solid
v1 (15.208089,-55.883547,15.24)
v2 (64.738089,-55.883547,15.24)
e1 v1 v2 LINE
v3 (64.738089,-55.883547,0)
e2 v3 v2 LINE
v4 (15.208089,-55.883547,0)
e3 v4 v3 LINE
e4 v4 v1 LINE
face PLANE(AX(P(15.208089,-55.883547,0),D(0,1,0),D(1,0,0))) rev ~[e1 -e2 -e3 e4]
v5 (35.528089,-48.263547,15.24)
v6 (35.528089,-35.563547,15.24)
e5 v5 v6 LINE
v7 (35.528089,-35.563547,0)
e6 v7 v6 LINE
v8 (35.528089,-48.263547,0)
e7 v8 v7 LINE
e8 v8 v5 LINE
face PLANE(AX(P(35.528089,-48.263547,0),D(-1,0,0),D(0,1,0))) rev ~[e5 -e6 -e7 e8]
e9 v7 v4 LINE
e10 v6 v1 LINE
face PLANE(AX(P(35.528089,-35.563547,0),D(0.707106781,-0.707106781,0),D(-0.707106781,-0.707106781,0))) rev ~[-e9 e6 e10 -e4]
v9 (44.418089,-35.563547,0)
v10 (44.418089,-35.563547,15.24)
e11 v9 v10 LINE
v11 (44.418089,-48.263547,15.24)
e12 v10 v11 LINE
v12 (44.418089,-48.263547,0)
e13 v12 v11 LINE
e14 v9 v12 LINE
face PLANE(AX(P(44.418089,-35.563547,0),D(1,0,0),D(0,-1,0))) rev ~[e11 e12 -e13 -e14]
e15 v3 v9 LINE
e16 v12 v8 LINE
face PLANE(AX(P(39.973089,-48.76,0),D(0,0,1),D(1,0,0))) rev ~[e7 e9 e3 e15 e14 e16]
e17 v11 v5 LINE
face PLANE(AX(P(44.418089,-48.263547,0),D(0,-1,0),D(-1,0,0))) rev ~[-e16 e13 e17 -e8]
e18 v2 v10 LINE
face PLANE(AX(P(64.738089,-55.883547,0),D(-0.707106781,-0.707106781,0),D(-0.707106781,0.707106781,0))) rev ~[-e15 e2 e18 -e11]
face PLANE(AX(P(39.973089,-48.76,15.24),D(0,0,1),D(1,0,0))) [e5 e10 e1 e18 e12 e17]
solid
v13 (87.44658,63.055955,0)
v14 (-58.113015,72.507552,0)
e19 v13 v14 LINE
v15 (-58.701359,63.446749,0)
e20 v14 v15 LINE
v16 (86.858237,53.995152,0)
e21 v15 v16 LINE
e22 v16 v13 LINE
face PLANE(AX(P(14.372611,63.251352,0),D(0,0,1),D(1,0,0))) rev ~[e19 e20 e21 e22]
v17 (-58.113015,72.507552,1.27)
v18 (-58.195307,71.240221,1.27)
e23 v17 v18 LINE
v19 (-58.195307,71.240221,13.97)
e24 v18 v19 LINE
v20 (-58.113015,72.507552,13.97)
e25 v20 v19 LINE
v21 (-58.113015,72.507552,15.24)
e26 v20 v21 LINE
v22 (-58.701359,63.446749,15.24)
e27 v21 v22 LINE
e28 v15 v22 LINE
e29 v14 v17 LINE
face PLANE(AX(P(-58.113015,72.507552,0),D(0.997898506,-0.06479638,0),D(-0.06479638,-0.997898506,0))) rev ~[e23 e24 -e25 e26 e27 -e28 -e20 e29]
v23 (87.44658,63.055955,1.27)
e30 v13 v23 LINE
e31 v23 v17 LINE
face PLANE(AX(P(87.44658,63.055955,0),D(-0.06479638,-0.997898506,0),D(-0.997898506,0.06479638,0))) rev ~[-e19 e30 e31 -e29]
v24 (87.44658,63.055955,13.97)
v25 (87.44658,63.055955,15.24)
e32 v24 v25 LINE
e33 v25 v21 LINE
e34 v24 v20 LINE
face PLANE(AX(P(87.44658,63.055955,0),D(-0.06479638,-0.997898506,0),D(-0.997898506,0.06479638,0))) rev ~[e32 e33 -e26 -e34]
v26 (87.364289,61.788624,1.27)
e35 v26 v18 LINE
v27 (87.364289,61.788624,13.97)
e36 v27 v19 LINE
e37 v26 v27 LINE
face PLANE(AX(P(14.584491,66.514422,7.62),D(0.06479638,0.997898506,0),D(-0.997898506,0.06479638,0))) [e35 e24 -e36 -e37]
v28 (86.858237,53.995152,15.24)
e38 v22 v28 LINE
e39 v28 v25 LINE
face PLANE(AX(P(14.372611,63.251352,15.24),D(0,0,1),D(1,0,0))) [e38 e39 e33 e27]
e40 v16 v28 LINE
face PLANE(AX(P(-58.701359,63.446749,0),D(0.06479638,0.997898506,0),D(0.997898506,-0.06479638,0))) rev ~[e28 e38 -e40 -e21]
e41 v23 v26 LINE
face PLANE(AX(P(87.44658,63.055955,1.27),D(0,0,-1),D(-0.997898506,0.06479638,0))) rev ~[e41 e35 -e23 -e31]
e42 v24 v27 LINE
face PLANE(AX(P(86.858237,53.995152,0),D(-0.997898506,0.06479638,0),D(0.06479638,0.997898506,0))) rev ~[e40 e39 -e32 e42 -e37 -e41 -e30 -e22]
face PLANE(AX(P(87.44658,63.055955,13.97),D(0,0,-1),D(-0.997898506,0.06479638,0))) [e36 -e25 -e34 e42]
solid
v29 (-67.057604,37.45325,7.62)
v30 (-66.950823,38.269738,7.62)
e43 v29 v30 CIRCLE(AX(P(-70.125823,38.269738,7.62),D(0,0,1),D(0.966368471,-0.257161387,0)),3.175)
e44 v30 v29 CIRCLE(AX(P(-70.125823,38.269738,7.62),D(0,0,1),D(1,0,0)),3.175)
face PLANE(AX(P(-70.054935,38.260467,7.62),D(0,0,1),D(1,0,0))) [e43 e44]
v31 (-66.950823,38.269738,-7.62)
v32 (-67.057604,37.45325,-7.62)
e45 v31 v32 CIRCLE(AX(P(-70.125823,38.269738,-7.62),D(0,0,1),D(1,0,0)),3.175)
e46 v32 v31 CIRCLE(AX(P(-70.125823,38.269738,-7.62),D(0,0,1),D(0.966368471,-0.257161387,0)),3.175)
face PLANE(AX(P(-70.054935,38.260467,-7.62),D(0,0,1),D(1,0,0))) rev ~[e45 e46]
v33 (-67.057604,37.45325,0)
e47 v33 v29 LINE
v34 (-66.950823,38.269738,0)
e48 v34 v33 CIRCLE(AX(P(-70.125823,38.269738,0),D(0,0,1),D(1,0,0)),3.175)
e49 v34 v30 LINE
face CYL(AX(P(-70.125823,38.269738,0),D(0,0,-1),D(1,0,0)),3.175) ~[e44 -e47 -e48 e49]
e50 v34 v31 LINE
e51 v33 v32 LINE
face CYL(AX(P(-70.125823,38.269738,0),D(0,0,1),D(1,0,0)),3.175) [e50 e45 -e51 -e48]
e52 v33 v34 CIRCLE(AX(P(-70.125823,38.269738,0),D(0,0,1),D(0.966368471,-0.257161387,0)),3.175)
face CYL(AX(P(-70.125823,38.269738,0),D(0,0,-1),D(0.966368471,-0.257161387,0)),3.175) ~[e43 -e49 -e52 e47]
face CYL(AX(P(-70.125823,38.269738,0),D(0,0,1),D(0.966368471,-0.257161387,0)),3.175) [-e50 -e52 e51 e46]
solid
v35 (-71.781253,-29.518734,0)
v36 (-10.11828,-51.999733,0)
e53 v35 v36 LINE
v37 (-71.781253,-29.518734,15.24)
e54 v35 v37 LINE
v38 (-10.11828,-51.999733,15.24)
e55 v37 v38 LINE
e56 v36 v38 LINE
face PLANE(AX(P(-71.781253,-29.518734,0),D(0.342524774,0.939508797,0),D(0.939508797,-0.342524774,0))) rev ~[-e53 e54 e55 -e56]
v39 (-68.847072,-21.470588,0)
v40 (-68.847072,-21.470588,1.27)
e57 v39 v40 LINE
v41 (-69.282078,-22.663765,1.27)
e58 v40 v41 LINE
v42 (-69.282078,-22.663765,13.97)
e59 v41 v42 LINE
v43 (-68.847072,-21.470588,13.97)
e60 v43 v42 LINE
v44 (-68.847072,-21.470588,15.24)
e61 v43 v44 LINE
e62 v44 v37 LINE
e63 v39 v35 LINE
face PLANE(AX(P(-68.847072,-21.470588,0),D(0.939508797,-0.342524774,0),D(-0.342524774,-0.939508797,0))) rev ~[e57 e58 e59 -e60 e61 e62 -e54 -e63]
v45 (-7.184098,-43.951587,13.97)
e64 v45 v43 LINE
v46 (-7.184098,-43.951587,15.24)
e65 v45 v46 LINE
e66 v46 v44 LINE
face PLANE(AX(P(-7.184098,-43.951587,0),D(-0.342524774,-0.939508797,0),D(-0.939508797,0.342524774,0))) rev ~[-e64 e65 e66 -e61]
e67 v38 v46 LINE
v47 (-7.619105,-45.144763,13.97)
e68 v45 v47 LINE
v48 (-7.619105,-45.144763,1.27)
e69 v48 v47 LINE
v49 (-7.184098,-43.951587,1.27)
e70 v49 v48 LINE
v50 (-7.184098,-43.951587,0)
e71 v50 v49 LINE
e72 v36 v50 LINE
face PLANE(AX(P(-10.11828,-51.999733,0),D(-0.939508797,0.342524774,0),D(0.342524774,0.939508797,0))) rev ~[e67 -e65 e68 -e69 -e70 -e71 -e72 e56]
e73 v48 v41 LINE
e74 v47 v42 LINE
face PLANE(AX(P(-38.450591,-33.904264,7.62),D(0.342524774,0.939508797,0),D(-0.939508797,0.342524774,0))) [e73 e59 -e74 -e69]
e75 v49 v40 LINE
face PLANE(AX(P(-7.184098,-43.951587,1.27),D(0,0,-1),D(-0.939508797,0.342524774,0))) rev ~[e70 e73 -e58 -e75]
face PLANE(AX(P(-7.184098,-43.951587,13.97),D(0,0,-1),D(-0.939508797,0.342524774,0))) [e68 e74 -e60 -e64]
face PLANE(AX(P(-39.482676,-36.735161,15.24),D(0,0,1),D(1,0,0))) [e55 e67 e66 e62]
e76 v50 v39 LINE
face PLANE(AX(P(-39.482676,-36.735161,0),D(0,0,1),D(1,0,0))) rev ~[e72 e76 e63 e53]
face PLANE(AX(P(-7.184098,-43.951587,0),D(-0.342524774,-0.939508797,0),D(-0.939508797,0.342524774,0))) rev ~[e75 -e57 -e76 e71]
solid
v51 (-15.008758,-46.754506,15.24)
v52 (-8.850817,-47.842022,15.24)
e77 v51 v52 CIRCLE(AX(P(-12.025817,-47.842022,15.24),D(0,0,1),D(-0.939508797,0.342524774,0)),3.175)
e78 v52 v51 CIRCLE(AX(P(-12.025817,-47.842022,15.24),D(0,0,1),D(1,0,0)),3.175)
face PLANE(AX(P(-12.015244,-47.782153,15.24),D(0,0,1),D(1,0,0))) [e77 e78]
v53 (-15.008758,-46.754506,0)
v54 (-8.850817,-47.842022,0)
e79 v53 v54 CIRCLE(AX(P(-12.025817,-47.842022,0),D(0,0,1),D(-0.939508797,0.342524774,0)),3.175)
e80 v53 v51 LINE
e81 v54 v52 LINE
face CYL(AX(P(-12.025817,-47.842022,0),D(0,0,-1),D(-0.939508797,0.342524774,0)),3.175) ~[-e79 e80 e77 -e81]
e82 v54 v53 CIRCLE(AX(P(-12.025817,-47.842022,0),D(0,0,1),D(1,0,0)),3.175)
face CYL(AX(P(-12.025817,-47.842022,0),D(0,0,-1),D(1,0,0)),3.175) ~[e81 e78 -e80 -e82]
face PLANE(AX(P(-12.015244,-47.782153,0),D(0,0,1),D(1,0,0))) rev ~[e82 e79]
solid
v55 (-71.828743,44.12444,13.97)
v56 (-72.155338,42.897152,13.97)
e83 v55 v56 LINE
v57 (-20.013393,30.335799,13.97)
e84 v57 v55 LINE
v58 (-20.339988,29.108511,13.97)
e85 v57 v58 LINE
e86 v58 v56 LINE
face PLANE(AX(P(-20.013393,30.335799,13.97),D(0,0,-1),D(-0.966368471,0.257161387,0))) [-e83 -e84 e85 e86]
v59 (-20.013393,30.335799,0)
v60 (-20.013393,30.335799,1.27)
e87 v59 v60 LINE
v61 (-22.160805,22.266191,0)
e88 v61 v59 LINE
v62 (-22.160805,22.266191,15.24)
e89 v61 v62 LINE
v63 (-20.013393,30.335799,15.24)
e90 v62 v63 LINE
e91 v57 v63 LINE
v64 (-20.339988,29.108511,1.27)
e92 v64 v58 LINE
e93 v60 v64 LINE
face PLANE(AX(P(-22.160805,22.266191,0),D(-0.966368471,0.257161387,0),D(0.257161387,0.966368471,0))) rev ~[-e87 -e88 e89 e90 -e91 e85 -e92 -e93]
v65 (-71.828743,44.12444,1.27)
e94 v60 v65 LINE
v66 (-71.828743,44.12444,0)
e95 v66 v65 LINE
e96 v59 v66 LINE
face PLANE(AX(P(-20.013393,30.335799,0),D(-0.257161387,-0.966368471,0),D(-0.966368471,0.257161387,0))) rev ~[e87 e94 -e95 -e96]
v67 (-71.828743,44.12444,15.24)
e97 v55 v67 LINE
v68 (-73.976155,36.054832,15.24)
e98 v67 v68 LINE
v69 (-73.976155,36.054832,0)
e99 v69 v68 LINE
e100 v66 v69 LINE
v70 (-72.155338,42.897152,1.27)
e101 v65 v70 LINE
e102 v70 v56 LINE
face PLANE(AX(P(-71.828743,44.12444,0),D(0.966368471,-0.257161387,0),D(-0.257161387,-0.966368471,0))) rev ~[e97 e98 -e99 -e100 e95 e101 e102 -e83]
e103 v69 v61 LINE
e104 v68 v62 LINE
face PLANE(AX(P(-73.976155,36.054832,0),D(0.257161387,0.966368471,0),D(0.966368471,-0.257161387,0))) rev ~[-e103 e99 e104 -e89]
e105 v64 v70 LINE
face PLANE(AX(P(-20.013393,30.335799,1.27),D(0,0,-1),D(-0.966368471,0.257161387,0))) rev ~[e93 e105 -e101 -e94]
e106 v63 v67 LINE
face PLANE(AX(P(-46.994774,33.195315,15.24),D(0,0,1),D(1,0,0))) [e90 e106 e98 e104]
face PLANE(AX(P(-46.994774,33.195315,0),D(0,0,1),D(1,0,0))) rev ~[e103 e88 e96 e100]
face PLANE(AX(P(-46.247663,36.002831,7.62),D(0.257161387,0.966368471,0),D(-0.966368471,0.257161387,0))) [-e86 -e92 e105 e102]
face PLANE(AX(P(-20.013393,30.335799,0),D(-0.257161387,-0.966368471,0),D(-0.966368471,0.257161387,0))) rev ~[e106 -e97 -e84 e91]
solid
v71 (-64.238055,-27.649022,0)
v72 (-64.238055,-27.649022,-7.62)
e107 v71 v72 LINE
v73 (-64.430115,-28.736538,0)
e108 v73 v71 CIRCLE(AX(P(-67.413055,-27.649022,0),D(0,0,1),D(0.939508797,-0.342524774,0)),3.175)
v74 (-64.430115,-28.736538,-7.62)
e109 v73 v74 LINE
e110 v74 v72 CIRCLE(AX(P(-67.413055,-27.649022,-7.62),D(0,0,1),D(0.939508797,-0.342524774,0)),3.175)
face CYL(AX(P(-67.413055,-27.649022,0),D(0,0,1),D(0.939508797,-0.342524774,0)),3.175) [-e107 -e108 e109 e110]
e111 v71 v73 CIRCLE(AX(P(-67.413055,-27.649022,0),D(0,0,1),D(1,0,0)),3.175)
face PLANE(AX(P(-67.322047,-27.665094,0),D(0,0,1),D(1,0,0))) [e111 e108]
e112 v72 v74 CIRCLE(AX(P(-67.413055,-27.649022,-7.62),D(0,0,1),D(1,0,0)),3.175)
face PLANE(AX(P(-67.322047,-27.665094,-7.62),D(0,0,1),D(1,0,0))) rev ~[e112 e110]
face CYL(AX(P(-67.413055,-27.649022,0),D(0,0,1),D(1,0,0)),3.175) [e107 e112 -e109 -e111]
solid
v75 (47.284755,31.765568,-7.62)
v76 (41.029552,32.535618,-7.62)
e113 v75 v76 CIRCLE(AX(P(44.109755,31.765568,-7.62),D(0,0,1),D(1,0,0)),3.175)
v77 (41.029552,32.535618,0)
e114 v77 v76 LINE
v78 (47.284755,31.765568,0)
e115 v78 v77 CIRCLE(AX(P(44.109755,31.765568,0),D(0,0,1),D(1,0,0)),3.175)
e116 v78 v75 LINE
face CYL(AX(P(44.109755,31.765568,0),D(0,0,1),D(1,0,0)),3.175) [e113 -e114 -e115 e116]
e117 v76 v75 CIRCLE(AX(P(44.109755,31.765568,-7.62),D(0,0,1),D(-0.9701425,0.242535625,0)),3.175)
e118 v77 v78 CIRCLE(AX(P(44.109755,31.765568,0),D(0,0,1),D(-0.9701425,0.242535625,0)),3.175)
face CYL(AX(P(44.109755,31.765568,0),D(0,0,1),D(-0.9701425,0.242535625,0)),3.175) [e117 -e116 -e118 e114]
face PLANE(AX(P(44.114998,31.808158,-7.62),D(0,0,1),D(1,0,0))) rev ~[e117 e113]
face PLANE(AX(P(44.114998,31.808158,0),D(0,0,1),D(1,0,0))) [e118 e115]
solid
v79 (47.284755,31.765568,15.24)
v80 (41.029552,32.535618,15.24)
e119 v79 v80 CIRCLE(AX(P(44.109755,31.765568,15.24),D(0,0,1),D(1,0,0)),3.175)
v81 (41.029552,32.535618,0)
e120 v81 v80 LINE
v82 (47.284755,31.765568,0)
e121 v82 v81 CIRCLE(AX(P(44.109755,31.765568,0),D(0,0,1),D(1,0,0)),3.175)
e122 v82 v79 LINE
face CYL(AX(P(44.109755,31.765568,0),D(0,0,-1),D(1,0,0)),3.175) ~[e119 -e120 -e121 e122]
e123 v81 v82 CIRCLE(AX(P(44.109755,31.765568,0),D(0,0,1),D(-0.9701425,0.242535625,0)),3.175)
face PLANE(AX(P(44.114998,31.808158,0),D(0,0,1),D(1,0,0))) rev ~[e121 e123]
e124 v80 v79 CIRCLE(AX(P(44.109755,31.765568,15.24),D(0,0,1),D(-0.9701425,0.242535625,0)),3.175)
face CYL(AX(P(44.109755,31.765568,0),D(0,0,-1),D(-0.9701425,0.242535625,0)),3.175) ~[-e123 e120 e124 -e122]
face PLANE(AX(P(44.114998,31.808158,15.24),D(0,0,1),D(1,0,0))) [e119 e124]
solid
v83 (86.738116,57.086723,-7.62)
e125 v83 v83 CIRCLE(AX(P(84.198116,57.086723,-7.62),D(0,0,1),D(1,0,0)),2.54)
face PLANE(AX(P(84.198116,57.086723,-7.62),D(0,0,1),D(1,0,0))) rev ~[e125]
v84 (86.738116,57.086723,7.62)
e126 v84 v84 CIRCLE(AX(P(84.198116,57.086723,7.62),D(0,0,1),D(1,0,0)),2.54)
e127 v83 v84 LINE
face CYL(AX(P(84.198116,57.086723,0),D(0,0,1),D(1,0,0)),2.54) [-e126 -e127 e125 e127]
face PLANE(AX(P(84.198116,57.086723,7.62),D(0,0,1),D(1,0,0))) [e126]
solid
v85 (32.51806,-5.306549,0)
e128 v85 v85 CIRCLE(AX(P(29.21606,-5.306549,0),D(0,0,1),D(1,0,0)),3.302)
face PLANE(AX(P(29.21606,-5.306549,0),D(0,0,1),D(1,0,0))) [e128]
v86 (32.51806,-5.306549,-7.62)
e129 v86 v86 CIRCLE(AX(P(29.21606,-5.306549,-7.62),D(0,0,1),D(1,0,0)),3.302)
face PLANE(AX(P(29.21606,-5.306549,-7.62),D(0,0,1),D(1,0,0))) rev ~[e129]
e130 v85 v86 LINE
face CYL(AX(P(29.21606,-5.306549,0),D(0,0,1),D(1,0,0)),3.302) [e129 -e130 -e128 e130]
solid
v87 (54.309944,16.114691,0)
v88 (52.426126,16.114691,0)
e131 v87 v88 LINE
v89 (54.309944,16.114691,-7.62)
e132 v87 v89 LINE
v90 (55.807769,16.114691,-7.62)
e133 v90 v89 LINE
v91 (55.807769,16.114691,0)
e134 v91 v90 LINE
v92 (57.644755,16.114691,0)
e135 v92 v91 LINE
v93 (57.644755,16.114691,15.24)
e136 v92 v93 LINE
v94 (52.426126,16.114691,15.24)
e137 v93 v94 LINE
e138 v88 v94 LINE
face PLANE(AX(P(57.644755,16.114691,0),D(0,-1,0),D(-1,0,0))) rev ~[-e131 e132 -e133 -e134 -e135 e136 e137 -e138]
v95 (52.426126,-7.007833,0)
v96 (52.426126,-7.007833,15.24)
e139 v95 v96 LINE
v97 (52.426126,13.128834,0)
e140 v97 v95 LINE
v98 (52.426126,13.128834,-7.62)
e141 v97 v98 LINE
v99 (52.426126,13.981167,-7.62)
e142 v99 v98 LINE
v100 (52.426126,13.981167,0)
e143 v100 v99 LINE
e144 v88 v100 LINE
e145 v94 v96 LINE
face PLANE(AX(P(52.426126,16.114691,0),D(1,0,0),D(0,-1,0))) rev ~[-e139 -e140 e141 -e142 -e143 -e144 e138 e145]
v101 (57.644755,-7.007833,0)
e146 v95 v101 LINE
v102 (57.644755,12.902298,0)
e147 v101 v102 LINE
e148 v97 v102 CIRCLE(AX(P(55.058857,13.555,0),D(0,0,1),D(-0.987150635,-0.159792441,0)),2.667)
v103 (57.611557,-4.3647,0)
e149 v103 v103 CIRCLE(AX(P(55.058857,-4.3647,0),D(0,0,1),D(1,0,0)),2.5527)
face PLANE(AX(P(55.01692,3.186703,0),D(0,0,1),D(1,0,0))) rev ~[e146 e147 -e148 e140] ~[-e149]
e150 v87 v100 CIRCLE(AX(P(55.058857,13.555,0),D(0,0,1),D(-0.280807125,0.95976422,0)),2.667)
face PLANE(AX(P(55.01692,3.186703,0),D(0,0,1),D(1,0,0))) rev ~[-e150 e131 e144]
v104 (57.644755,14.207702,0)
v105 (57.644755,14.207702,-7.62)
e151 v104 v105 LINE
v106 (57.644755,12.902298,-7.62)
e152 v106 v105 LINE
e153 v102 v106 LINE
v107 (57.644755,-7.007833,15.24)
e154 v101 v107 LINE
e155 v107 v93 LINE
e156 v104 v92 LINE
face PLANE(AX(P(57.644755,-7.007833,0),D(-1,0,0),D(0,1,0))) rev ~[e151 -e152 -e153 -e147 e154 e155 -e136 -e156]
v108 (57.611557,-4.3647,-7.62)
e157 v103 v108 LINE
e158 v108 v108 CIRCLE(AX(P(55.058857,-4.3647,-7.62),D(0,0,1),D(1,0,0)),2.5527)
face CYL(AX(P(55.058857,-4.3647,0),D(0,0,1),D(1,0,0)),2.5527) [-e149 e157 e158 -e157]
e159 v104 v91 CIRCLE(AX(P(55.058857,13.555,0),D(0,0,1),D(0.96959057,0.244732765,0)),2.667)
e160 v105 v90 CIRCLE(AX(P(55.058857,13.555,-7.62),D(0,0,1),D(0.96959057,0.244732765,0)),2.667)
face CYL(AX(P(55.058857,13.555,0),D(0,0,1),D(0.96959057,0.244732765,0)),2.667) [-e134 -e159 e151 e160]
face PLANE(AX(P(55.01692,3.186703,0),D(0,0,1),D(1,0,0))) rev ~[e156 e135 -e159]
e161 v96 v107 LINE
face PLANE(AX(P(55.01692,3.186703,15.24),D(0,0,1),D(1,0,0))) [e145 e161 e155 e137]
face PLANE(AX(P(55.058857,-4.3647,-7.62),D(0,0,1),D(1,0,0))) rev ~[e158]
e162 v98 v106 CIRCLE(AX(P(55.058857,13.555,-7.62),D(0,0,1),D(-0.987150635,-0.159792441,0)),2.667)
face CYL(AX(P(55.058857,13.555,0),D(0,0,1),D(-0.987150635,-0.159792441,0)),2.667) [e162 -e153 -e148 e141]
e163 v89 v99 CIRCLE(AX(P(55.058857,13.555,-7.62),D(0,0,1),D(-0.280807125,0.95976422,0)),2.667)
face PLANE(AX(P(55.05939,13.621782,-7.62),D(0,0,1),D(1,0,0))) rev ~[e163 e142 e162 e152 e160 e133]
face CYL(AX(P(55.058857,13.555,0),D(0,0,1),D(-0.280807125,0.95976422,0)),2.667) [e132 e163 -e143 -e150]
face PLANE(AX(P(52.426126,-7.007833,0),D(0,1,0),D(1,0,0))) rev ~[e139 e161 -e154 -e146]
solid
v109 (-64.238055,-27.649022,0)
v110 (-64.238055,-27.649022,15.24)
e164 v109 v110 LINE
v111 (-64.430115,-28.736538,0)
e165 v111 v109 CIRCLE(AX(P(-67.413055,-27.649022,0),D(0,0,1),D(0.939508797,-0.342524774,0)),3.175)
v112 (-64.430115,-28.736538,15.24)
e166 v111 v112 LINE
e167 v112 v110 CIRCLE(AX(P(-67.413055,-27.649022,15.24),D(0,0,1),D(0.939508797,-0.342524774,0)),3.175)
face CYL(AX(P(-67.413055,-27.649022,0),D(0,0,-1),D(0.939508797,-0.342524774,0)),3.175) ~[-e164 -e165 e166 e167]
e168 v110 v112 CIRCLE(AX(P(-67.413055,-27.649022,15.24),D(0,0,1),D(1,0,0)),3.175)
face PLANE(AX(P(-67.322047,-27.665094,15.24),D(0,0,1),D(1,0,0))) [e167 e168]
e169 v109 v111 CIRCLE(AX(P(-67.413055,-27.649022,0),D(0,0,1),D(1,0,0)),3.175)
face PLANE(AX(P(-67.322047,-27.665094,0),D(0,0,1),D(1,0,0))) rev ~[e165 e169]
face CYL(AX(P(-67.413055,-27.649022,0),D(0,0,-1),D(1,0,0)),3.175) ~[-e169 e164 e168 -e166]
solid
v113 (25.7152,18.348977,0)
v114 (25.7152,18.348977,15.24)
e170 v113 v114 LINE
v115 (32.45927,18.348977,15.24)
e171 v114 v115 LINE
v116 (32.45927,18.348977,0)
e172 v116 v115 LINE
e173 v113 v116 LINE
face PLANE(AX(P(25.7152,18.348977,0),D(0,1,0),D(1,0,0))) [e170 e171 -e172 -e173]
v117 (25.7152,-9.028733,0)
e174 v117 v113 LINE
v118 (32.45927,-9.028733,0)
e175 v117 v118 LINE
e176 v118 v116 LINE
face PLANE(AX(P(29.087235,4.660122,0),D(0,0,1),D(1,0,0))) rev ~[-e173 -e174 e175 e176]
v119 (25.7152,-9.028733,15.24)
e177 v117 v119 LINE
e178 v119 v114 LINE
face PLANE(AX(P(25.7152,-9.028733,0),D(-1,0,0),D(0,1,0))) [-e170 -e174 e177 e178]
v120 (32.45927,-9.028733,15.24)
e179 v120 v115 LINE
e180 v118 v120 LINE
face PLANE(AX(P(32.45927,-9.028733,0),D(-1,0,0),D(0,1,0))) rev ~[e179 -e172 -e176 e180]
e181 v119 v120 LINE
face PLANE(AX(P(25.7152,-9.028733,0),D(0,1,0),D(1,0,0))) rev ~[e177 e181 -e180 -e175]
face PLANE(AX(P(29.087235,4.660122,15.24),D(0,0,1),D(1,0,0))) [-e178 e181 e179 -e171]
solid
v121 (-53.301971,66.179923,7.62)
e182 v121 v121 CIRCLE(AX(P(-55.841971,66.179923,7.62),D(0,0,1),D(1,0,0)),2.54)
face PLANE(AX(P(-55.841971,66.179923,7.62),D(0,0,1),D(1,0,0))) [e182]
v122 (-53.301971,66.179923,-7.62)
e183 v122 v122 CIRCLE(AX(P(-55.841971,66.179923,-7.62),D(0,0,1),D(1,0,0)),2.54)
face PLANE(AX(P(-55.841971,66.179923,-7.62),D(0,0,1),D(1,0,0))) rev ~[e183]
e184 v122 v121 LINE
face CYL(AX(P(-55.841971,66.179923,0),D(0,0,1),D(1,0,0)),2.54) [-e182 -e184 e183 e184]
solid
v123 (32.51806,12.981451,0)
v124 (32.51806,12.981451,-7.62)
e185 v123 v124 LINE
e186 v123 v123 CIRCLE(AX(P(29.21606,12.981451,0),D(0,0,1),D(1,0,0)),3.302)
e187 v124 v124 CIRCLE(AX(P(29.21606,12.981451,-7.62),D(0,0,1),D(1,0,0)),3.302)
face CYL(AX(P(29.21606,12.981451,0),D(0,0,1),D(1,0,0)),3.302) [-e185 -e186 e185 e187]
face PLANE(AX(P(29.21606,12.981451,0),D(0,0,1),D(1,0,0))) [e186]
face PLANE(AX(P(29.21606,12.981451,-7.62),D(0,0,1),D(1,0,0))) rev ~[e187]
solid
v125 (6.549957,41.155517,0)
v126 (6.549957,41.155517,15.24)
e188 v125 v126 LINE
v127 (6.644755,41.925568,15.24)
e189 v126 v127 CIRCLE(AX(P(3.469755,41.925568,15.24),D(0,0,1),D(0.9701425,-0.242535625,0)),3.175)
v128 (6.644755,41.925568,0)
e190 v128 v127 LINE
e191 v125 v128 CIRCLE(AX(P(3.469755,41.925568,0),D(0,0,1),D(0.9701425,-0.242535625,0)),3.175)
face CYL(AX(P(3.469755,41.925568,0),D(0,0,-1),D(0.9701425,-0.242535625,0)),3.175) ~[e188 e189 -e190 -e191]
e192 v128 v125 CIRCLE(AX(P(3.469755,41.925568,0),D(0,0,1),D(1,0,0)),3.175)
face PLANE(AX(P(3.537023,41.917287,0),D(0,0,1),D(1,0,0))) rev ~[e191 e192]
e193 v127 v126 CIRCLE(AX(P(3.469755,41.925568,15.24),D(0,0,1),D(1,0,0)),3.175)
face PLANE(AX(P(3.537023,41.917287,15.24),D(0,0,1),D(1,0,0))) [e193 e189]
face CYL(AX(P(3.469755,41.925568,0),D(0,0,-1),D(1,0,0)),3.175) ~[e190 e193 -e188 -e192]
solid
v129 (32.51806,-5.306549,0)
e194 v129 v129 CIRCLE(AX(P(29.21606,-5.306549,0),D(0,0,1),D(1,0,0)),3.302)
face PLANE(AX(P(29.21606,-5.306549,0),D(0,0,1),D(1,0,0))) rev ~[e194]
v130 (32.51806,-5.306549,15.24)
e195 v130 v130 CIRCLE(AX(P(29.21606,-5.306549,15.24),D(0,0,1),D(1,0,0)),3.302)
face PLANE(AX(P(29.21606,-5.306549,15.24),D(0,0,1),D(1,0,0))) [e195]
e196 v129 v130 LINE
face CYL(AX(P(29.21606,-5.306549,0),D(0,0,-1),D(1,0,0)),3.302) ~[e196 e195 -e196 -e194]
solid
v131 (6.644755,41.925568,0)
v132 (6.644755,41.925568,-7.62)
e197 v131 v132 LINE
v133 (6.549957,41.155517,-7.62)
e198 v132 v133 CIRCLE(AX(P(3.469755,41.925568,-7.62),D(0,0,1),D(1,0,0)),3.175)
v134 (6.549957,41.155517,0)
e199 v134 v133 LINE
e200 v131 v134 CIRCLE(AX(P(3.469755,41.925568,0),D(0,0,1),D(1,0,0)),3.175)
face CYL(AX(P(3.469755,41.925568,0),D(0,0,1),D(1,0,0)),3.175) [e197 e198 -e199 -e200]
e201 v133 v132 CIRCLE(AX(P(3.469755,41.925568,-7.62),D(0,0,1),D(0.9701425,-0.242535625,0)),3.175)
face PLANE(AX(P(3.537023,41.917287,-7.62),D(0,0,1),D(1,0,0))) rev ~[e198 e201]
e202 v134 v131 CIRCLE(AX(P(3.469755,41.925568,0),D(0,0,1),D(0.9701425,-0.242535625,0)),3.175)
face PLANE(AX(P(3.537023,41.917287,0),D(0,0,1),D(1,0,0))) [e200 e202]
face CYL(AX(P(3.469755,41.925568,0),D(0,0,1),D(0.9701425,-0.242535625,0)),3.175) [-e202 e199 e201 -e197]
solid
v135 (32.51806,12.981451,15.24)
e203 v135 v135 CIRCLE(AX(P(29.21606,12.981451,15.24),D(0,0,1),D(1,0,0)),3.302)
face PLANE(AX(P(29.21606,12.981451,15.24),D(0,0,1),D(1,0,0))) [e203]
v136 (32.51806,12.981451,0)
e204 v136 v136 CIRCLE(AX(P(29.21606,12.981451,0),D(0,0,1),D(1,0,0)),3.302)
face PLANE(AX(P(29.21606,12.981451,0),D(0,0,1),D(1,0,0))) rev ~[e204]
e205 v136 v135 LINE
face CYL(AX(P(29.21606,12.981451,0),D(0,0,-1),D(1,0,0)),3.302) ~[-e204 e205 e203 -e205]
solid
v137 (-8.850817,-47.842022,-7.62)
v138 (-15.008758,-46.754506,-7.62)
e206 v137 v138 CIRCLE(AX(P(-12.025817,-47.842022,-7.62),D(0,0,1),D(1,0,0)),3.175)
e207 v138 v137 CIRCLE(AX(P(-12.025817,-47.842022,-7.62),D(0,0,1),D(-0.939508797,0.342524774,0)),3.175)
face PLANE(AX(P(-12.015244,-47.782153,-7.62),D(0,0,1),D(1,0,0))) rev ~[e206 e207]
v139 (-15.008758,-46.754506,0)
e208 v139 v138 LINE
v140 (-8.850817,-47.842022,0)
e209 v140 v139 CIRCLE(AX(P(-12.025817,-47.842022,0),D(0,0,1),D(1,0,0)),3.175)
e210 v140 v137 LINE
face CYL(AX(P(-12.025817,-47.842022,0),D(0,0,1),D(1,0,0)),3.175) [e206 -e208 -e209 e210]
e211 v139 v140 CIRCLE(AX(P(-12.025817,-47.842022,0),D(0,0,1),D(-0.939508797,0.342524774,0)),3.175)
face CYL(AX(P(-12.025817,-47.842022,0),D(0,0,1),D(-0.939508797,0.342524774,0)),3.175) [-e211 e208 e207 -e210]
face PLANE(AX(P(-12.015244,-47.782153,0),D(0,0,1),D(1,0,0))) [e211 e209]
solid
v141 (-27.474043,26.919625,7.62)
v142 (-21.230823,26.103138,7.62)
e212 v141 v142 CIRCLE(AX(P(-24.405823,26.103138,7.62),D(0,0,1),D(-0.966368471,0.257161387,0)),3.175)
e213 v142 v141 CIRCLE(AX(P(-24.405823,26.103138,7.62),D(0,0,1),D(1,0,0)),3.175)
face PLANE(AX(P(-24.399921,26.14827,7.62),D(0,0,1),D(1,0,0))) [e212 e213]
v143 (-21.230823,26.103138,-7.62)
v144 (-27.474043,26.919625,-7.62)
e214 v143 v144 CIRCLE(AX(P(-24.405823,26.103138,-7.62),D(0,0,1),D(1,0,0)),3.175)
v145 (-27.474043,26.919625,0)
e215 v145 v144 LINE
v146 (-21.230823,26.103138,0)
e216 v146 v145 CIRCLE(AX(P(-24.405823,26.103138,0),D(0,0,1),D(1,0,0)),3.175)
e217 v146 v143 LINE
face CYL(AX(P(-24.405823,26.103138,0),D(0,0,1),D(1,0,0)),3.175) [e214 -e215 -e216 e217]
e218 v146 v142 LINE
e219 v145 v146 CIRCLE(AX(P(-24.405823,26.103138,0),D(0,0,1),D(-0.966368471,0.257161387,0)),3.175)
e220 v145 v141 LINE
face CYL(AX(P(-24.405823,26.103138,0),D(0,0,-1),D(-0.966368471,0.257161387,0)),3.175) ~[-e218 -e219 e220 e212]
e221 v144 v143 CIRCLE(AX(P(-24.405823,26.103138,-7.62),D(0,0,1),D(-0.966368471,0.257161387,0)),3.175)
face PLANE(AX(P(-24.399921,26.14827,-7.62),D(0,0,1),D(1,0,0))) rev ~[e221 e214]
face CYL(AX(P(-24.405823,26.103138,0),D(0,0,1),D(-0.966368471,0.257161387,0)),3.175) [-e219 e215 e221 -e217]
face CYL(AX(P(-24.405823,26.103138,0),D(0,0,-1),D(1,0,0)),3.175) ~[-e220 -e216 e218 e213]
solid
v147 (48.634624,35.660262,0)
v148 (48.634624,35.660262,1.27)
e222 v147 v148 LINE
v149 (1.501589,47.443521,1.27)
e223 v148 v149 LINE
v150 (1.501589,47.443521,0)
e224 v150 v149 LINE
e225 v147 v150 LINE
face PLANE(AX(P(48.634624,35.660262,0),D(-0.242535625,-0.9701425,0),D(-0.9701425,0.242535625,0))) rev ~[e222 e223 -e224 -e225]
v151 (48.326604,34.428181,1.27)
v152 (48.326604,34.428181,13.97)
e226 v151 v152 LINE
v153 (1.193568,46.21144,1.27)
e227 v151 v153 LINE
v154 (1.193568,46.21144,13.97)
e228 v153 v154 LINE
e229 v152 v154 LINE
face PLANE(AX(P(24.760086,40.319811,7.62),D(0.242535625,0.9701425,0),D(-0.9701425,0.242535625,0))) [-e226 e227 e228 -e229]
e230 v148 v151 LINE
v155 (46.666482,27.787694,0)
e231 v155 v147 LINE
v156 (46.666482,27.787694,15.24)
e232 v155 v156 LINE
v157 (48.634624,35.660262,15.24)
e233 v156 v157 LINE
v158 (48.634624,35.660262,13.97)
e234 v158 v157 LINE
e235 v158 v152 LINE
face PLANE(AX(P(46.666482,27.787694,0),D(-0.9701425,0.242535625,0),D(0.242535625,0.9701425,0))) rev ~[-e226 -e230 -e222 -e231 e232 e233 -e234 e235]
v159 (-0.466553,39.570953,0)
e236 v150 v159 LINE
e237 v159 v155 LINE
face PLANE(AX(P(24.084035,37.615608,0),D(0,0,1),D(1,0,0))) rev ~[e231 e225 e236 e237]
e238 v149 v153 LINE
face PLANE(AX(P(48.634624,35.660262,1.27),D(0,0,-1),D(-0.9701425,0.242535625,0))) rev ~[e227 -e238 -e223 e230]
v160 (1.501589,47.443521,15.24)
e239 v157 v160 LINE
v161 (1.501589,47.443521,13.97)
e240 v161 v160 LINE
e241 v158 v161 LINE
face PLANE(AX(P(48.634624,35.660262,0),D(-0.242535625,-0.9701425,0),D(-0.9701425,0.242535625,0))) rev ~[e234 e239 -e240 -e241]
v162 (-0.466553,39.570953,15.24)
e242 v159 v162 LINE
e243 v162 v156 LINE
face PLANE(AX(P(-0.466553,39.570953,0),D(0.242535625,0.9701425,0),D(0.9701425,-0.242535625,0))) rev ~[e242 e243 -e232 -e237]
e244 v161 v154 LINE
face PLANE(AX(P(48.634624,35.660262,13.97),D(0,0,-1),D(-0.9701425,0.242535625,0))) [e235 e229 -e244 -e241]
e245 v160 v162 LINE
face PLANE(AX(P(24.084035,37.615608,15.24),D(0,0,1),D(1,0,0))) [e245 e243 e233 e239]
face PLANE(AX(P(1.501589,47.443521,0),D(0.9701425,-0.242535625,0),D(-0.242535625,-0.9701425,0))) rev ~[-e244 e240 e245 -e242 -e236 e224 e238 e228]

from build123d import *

# Parameters (mm, degrees)
F2_DEPTH  = 7.62
F3_DEPTH  = 15.24
F5_DEPTH  = 15.24
F6_W      = 65.6332046197
F6_H      = 12.7
F7_DEPTH  = 0.762
F9_DEPTH  = 7.62
F10_DEPTH = 15.24
F12_DEPTH = 15.24
F13_W     = 48.5836209363
F13_H     = 12.7
F14_DEPTH = 1.27
F15_R     = 3.302
F16_DEPTH = 7.62
F17_DEPTH = 15.24
F18_W     = 6.7440699786
F18_H     = 27.3777097464
F19_DEPTH = 15.24
F21_DEPTH = 15.24
F22_DEPTH = 7.62
F24_DEPTH = 15.24
F25_W     = 53.6186267683
F25_H     = 12.7
F26_DEPTH = 1.27
F28_DEPTH = 15.24
F29_W     = 65.6332046197
F29_H     = 12.7
F30_DEPTH = 1.27
F31_R     = 2.54
F32_DEPTH = 7.62
F33_DEPTH = 15.24
F34_W     = 145.8661322359
F34_H     = 12.7
F35_DEPTH = 1.27
F36_R     = 2.5527
F37_DEPTH = 15.24
F38_DEPTH = 7.62


with BuildPart() as f2:
    # F1 (on Top) → F2 (new body)
    with BuildSketch(Plane.XY):
        with BuildLine():
            ThreePointArc((-64.4301145906, -28.7365379278), (-64.2864385694, -28.2011943594), (-64.2380550206, -27.649021771))
            ThreePointArc((-64.2380550206, -27.649021771), (-70.5396714717, -27.0968491825), (-64.4301145906, -28.7365379278))
        make_face()
    extrude(amount=-F2_DEPTH)


with BuildPart() as f2b:
    # F1 (on Top) → F2, piece 2 (new body)
    with BuildSketch(Plane.XY):
        with BuildLine():
            ThreePointArc((-8.8508171172, -47.842021771), (-11.4736445288, -44.7154053198), (-15.0087575472, -46.7545056141))
            ThreePointArc((-15.0087575472, -46.7545056141), (-12.5779897057, -50.9686382221), (-8.8508171172, -47.842021771))
        make_face()
    extrude(amount=-F2_DEPTH)


with BuildPart() as f3:
    # F3 (new): a face of the model
    f3_faces = [f2.part.faces().sort_by_distance(p)[0] for p in [
        (-67.4130550206, -27.649021771, 0),
    ]]
    extrude(f3_faces, amount=F3_DEPTH)


with BuildPart() as f3b:
    # F3#2 (new): a face of the model
    f3_2_faces = [f2b.part.faces().sort_by_distance(p)[0] for p in [
        (-12.0258171172, -47.842021771, 0),
    ]]
    extrude(f3_2_faces, amount=F3_DEPTH)


with BuildPart() as f5:
    # F4 (on Top) → F5 (new body)
    with BuildSketch(Plane.XY):
        Polygon((-68.8470715069, -21.4705884695), (-71.7812530259, -29.5187343538), (-10.1182799212, -51.9997329203), (-7.1840984022, -43.9515870359), align=None)
    extrude(amount=F5_DEPTH)

    # F6 (on face) → F7 (cut)
    with BuildSketch(Plane(origin=(-14.9867037038, -41.1069243515, 0), x_dir=(-0.9395087968, 0.3425247738, 0), z_dir=(0.3425247738, 0.9395087968, 0))):
        with Locations((24.5116185482, 7.62)):
            Rectangle(F6_W, F6_H)
    extrude(amount=-F7_DEPTH, mode=Mode.SUBTRACT)


with BuildPart() as f9:
    # F8 (on Top) → F9 (new body)
    with BuildSketch(Plane.XY):
        with BuildLine():
            ThreePointArc((6.5499569589, 41.1555171078), (6.6209660134, 41.537635855), (6.6447545209, 41.9255677172))
            ThreePointArc((6.6447545209, 41.9255677172), (0.3185430285, 42.3134995795), (6.5499569589, 41.1555171078))
        make_face()
    extrude(amount=-F9_DEPTH)


with BuildPart() as f9b:
    # F8 (on Top) → F9, piece 2 (new body)
    with BuildSketch(Plane.XY):
        with BuildLine():
            ThreePointArc((47.2847545209, 31.7655677172), (44.4976863832, 34.9167792097), (41.029552083, 32.5356183267))
            ThreePointArc((41.029552083, 32.5356183267), (43.7218226587, 28.6143562248), (47.2847545209, 31.7655677172))
        make_face()
    extrude(amount=-F9_DEPTH)


with BuildPart() as f10:
    # F10 (new): a face of the model
    f10_faces = [f9.part.faces().sort_by_distance(p)[0] for p in [
        (3.4697545209, 41.9255677172, 0),
    ]]
    extrude(f10_faces, amount=F10_DEPTH)


with BuildPart() as f10b:
    # F10#2 (new): a face of the model
    f10_2_faces = [f9b.part.faces().sort_by_distance(p)[0] for p in [
        (44.1097545209, 31.7655677172, 0),
    ]]
    extrude(f10_2_faces, amount=F10_DEPTH)


with BuildPart() as f12:
    # F11 (on Top) → F12 (new body)
    with BuildSketch(Plane.XY):
        Polygon((48.6346241865, 35.6602623446), (1.5015887053, 47.4435212149), (-0.4665534053, 39.5709527725), (46.6664820759, 27.7876939022), align=None)
    extrude(amount=F12_DEPTH)

    # F13 (on face) → F14 (cut)
    with BuildSketch(Plane(origin=(11.2515102097, 45.0060408388, 0), x_dir=(-0.9701425001, 0.242535625, 0), z_dir=(0.242535625, 0.9701425001, 0))):
        with Locations((-14.2418214171, 7.62)):
            Rectangle(F13_W, F13_H)
    extrude(amount=-F14_DEPTH, mode=Mode.SUBTRACT)


with BuildPart() as f16:
    # F15 (on Top) → F16 (new body)
    with BuildSketch(Plane.XY):
        with Locations((29.2160604149, 12.9814512787)):
            Circle(F15_R)
    extrude(amount=-F16_DEPTH)


with BuildPart() as f16b:
    # F15 (on Top) → F16, piece 2 (new body)
    with BuildSketch(Plane.XY):
        with Locations((29.2160604149, -5.3065487213)):
            Circle(F15_R)
    extrude(amount=-F16_DEPTH)


with BuildPart() as f17:
    # F17 (new): a face of the model
    f17_faces = [f16.part.faces().sort_by_distance(p)[0] for p in [
        (29.2160604149, 12.9814512787, 0),
    ]]
    extrude(f17_faces, amount=F17_DEPTH)


with BuildPart() as f17b:
    # F17#2 (new): a face of the model
    f17_2_faces = [f16b.part.faces().sort_by_distance(p)[0] for p in [
        (29.2160604149, -5.3065487213, 0),
    ]]
    extrude(f17_2_faces, amount=F17_DEPTH)


with BuildPart() as f19:
    # F18 (on Top) → F19 (new body)
    with BuildSketch(Plane.XY):
        with Locations((29.0872352198, 4.6601220965)):
            Rectangle(F18_W, F18_H)
    extrude(amount=F19_DEPTH)


with BuildPart() as f21:
    # F20 (on Top) → F21 (new body)
    with BuildSketch(Plane.XY):
        Polygon((35.5280892919, -48.263547454), (35.5280892919, -35.563547454), (15.2080892919, -55.883547454), (64.7380892919, -55.883547454), (44.4180892919, -35.563547454), (44.4180892919, -48.263547454), align=None)
    extrude(amount=F21_DEPTH)


with BuildPart() as f22:
    # F0 (on Top) → F22 (new body, symmetric)
    with BuildSketch(Plane.XY):
        with BuildLine():
            ThreePointArc((-67.0576035657, 37.4532502033), (-66.9776316641, 37.8580175355), (-66.9508234596, 38.2697376084))
            ThreePointArc((-66.9508234596, 38.2697376084), (-73.2740152552, 38.6814576813), (-67.0576035657, 37.4532502033))
        make_face()
    extrude(amount=F22_DEPTH, both=True)


with BuildPart() as f22b:
    # F0 (on Top) → F22, piece 2 (new body, symmetric)
    with BuildSketch(Plane.XY):
        with BuildLine():
            ThreePointArc((-21.2308234596, 26.1031376084), (-23.9941033867, 29.251329404), (-27.4740433535, 26.9196250135))
            ThreePointArc((-27.4740433535, 26.9196250135), (-24.8175435325, 22.9549458129), (-21.2308234596, 26.1031376084))
        make_face()
    extrude(amount=F22_DEPTH, both=True)


with BuildPart() as f24:
    # F23 (on Top) → F24 (new body)
    with BuildSketch(Plane.XY):
        Polygon((-71.8287429624, 44.1244396145), (-73.9761553172, 36.0548316004), (-22.1608049758, 22.2661911485), (-20.0133926209, 30.3357991625), align=None)
    extrude(amount=F24_DEPTH)

    # F25 (on face) → F26 (cut)
    with BuildSketch(Plane(origin=(6.2153047772, 23.3560513549, 0), x_dir=(-0.9663684705, 0.2571613874, 0), z_dir=(0.2571613874, 0.9663684705, 0))):
        with Locations((53.9508212027, 7.62)):
            Rectangle(F25_W, F25_H)
    extrude(amount=-F26_DEPTH, mode=Mode.SUBTRACT)


with BuildPart() as f28:
    # F4 (on Top) → F28 (new body)
    with BuildSketch(Plane.XY):
        Polygon((-68.8470715069, -21.4705884695), (-71.7812530259, -29.5187343538), (-10.1182799212, -51.9997329203), (-7.1840984022, -43.9515870359), align=None)
    extrude(amount=F28_DEPTH)

    # F29 (on face) → F30 (cut)
    with BuildSketch(Plane(origin=(-14.9867037038, -41.1069243515, 0), x_dir=(-0.9395087968, 0.3425247738, 0), z_dir=(0.3425247738, 0.9395087968, 0))):
        with Locations((24.5116185482, 7.62)):
            Rectangle(F29_W, F29_H)
    extrude(amount=-F30_DEPTH, mode=Mode.SUBTRACT)


with BuildPart() as f32:
    # F31 (on Top) → F32 (new body, symmetric)
    with BuildSketch(Plane.XY):
        with Locations((-55.8419707447, 66.1799226339)):
            Circle(F31_R)
    extrude(amount=F32_DEPTH, both=True)


with BuildPart() as f32b:
    # F31 (on Top) → F32, piece 2 (new body, symmetric)
    with BuildSketch(Plane.XY):
        with Locations((84.1981161545, 57.0867226339)):
            Circle(F31_R)
    extrude(amount=F32_DEPTH, both=True)


with BuildPart() as f33:
    # F31 (on Top) → F33 (new body)
    with BuildSketch(Plane.XY):
        Polygon((87.4465803008, 63.0559547052), (-58.1130151955, 72.5075520519), (-58.701358828, 63.4467490984), (86.8582366683, 53.9951517517), align=None)
        with Locations((84.1981161545, 57.0867226339)):
            Circle(F31_R, mode=Mode.SUBTRACT)
        with Locations((-55.8419707447, 66.1799226339)):
            Circle(F31_R, mode=Mode.SUBTRACT)
        with Locations((-55.8419707447, 66.1799226339)):
            Circle(F31_R)
        with Locations((84.1981161545, 57.0867226339)):
            Circle(F31_R)
    extrude(amount=F33_DEPTH)

    # F34 (on face) → F35 (cut)
    with BuildSketch(Plane(origin=(4.4443619956, 68.4455241364, 0), x_dir=(-0.9978985064, 0.0647963801, 0), z_dir=(0.0647963801, 0.9978985064, 0))):
        with Locations((-10.2439481482, 7.62)):
            Rectangle(F34_W, F34_H)
    extrude(amount=-F35_DEPTH, mode=Mode.SUBTRACT)


with BuildPart() as f37:
    # F36 (on Top) → F37 (new body)
    with BuildSketch(Plane.XY):
        with BuildLine():
            Line((57.6447546482, -7.0078326389), (57.6447546482, 12.9022978134))
            ThreePointArc((57.6447546482, 12.9022978134), (54.94319352, 10.8905093291), (52.4261258543, 13.1288336579))
            Line((52.4261258543, 13.1288336579), (52.4261258543, -7.0078326389))
            Line((52.4261258543, -7.0078326389), (57.6447546482, -7.0078326389))
        make_face()
        with Locations((55.0588565974, -4.3646999029)):
            Circle(F36_R, mode=Mode.SUBTRACT)
        with BuildLine():
            Line((57.6447546482, 12.9022978134), (57.6447546482, 14.2077023807))
            ThreePointArc((57.6447546482, 14.2077023807), (56.9796356536, 15.4052694876), (55.8077692005, 16.1146912724))
            Line((55.8077692005, 16.1146912724), (54.3099439944, 16.1146912724))
            ThreePointArc((54.3099439944, 16.1146912724), (53.0596417815, 15.3202278783), (52.4261258543, 13.9811665362))
            Line((52.4261258543, 13.9811665362), (52.4261258543, 13.1288336579))
            ThreePointArc((52.4261258543, 13.1288336579), (54.94319352, 10.8905093291), (57.6447546482, 12.9022978134))
        make_face()
        with Locations((55.0588565974, -4.3646999029)):
            Circle(F36_R)
        with BuildLine():
            ThreePointArc((52.4261258543, 13.9811665362), (53.0596417815, 15.3202278783), (54.3099439944, 16.1146912724))
            Line((54.3099439944, 16.1146912724), (52.4261258543, 16.1146912724))
            Line((52.4261258543, 16.1146912724), (52.4261258543, 13.9811665362))
        make_face()
        with BuildLine():
            ThreePointArc((55.8077692005, 16.1146912724), (56.9796356536, 15.4052694876), (57.6447546482, 14.2077023807))
            Line((57.6447546482, 14.2077023807), (57.6447546482, 16.1146912724))
            Line((57.6447546482, 16.1146912724), (55.8077692005, 16.1146912724))
        make_face()
    extrude(amount=F37_DEPTH)

    # F36 (on Top) → F38 (join)
    with BuildSketch(Plane.XY):
        with BuildLine():
            Line((57.6447546482, 12.9022978134), (57.6447546482, 14.2077023807))
            ThreePointArc((57.6447546482, 14.2077023807), (56.9796356536, 15.4052694876), (55.8077692005, 16.1146912724))
            Line((55.8077692005, 16.1146912724), (54.3099439944, 16.1146912724))
            ThreePointArc((54.3099439944, 16.1146912724), (53.0596417815, 15.3202278783), (52.4261258543, 13.9811665362))
            Line((52.4261258543, 13.9811665362), (52.4261258543, 13.1288336579))
            ThreePointArc((52.4261258543, 13.1288336579), (54.94319352, 10.8905093291), (57.6447546482, 12.9022978134))
        make_face()
        with Locations((55.0588565974, -4.3646999029)):
            Circle(F36_R)
    extrude(amount=-F38_DEPTH)


solid = Compound([f2.part, f2b.part, f3.part, f3b.part, f9.part, f9b.part, f10.part, f10b.part, f12.part, f16.part, f16b.part, f17.part, f17b.part, f19.part, f21.part, f22.part, f22b.part, f24.part, f28.part, f32.part, f32b.part, f33.part, f37.part])
